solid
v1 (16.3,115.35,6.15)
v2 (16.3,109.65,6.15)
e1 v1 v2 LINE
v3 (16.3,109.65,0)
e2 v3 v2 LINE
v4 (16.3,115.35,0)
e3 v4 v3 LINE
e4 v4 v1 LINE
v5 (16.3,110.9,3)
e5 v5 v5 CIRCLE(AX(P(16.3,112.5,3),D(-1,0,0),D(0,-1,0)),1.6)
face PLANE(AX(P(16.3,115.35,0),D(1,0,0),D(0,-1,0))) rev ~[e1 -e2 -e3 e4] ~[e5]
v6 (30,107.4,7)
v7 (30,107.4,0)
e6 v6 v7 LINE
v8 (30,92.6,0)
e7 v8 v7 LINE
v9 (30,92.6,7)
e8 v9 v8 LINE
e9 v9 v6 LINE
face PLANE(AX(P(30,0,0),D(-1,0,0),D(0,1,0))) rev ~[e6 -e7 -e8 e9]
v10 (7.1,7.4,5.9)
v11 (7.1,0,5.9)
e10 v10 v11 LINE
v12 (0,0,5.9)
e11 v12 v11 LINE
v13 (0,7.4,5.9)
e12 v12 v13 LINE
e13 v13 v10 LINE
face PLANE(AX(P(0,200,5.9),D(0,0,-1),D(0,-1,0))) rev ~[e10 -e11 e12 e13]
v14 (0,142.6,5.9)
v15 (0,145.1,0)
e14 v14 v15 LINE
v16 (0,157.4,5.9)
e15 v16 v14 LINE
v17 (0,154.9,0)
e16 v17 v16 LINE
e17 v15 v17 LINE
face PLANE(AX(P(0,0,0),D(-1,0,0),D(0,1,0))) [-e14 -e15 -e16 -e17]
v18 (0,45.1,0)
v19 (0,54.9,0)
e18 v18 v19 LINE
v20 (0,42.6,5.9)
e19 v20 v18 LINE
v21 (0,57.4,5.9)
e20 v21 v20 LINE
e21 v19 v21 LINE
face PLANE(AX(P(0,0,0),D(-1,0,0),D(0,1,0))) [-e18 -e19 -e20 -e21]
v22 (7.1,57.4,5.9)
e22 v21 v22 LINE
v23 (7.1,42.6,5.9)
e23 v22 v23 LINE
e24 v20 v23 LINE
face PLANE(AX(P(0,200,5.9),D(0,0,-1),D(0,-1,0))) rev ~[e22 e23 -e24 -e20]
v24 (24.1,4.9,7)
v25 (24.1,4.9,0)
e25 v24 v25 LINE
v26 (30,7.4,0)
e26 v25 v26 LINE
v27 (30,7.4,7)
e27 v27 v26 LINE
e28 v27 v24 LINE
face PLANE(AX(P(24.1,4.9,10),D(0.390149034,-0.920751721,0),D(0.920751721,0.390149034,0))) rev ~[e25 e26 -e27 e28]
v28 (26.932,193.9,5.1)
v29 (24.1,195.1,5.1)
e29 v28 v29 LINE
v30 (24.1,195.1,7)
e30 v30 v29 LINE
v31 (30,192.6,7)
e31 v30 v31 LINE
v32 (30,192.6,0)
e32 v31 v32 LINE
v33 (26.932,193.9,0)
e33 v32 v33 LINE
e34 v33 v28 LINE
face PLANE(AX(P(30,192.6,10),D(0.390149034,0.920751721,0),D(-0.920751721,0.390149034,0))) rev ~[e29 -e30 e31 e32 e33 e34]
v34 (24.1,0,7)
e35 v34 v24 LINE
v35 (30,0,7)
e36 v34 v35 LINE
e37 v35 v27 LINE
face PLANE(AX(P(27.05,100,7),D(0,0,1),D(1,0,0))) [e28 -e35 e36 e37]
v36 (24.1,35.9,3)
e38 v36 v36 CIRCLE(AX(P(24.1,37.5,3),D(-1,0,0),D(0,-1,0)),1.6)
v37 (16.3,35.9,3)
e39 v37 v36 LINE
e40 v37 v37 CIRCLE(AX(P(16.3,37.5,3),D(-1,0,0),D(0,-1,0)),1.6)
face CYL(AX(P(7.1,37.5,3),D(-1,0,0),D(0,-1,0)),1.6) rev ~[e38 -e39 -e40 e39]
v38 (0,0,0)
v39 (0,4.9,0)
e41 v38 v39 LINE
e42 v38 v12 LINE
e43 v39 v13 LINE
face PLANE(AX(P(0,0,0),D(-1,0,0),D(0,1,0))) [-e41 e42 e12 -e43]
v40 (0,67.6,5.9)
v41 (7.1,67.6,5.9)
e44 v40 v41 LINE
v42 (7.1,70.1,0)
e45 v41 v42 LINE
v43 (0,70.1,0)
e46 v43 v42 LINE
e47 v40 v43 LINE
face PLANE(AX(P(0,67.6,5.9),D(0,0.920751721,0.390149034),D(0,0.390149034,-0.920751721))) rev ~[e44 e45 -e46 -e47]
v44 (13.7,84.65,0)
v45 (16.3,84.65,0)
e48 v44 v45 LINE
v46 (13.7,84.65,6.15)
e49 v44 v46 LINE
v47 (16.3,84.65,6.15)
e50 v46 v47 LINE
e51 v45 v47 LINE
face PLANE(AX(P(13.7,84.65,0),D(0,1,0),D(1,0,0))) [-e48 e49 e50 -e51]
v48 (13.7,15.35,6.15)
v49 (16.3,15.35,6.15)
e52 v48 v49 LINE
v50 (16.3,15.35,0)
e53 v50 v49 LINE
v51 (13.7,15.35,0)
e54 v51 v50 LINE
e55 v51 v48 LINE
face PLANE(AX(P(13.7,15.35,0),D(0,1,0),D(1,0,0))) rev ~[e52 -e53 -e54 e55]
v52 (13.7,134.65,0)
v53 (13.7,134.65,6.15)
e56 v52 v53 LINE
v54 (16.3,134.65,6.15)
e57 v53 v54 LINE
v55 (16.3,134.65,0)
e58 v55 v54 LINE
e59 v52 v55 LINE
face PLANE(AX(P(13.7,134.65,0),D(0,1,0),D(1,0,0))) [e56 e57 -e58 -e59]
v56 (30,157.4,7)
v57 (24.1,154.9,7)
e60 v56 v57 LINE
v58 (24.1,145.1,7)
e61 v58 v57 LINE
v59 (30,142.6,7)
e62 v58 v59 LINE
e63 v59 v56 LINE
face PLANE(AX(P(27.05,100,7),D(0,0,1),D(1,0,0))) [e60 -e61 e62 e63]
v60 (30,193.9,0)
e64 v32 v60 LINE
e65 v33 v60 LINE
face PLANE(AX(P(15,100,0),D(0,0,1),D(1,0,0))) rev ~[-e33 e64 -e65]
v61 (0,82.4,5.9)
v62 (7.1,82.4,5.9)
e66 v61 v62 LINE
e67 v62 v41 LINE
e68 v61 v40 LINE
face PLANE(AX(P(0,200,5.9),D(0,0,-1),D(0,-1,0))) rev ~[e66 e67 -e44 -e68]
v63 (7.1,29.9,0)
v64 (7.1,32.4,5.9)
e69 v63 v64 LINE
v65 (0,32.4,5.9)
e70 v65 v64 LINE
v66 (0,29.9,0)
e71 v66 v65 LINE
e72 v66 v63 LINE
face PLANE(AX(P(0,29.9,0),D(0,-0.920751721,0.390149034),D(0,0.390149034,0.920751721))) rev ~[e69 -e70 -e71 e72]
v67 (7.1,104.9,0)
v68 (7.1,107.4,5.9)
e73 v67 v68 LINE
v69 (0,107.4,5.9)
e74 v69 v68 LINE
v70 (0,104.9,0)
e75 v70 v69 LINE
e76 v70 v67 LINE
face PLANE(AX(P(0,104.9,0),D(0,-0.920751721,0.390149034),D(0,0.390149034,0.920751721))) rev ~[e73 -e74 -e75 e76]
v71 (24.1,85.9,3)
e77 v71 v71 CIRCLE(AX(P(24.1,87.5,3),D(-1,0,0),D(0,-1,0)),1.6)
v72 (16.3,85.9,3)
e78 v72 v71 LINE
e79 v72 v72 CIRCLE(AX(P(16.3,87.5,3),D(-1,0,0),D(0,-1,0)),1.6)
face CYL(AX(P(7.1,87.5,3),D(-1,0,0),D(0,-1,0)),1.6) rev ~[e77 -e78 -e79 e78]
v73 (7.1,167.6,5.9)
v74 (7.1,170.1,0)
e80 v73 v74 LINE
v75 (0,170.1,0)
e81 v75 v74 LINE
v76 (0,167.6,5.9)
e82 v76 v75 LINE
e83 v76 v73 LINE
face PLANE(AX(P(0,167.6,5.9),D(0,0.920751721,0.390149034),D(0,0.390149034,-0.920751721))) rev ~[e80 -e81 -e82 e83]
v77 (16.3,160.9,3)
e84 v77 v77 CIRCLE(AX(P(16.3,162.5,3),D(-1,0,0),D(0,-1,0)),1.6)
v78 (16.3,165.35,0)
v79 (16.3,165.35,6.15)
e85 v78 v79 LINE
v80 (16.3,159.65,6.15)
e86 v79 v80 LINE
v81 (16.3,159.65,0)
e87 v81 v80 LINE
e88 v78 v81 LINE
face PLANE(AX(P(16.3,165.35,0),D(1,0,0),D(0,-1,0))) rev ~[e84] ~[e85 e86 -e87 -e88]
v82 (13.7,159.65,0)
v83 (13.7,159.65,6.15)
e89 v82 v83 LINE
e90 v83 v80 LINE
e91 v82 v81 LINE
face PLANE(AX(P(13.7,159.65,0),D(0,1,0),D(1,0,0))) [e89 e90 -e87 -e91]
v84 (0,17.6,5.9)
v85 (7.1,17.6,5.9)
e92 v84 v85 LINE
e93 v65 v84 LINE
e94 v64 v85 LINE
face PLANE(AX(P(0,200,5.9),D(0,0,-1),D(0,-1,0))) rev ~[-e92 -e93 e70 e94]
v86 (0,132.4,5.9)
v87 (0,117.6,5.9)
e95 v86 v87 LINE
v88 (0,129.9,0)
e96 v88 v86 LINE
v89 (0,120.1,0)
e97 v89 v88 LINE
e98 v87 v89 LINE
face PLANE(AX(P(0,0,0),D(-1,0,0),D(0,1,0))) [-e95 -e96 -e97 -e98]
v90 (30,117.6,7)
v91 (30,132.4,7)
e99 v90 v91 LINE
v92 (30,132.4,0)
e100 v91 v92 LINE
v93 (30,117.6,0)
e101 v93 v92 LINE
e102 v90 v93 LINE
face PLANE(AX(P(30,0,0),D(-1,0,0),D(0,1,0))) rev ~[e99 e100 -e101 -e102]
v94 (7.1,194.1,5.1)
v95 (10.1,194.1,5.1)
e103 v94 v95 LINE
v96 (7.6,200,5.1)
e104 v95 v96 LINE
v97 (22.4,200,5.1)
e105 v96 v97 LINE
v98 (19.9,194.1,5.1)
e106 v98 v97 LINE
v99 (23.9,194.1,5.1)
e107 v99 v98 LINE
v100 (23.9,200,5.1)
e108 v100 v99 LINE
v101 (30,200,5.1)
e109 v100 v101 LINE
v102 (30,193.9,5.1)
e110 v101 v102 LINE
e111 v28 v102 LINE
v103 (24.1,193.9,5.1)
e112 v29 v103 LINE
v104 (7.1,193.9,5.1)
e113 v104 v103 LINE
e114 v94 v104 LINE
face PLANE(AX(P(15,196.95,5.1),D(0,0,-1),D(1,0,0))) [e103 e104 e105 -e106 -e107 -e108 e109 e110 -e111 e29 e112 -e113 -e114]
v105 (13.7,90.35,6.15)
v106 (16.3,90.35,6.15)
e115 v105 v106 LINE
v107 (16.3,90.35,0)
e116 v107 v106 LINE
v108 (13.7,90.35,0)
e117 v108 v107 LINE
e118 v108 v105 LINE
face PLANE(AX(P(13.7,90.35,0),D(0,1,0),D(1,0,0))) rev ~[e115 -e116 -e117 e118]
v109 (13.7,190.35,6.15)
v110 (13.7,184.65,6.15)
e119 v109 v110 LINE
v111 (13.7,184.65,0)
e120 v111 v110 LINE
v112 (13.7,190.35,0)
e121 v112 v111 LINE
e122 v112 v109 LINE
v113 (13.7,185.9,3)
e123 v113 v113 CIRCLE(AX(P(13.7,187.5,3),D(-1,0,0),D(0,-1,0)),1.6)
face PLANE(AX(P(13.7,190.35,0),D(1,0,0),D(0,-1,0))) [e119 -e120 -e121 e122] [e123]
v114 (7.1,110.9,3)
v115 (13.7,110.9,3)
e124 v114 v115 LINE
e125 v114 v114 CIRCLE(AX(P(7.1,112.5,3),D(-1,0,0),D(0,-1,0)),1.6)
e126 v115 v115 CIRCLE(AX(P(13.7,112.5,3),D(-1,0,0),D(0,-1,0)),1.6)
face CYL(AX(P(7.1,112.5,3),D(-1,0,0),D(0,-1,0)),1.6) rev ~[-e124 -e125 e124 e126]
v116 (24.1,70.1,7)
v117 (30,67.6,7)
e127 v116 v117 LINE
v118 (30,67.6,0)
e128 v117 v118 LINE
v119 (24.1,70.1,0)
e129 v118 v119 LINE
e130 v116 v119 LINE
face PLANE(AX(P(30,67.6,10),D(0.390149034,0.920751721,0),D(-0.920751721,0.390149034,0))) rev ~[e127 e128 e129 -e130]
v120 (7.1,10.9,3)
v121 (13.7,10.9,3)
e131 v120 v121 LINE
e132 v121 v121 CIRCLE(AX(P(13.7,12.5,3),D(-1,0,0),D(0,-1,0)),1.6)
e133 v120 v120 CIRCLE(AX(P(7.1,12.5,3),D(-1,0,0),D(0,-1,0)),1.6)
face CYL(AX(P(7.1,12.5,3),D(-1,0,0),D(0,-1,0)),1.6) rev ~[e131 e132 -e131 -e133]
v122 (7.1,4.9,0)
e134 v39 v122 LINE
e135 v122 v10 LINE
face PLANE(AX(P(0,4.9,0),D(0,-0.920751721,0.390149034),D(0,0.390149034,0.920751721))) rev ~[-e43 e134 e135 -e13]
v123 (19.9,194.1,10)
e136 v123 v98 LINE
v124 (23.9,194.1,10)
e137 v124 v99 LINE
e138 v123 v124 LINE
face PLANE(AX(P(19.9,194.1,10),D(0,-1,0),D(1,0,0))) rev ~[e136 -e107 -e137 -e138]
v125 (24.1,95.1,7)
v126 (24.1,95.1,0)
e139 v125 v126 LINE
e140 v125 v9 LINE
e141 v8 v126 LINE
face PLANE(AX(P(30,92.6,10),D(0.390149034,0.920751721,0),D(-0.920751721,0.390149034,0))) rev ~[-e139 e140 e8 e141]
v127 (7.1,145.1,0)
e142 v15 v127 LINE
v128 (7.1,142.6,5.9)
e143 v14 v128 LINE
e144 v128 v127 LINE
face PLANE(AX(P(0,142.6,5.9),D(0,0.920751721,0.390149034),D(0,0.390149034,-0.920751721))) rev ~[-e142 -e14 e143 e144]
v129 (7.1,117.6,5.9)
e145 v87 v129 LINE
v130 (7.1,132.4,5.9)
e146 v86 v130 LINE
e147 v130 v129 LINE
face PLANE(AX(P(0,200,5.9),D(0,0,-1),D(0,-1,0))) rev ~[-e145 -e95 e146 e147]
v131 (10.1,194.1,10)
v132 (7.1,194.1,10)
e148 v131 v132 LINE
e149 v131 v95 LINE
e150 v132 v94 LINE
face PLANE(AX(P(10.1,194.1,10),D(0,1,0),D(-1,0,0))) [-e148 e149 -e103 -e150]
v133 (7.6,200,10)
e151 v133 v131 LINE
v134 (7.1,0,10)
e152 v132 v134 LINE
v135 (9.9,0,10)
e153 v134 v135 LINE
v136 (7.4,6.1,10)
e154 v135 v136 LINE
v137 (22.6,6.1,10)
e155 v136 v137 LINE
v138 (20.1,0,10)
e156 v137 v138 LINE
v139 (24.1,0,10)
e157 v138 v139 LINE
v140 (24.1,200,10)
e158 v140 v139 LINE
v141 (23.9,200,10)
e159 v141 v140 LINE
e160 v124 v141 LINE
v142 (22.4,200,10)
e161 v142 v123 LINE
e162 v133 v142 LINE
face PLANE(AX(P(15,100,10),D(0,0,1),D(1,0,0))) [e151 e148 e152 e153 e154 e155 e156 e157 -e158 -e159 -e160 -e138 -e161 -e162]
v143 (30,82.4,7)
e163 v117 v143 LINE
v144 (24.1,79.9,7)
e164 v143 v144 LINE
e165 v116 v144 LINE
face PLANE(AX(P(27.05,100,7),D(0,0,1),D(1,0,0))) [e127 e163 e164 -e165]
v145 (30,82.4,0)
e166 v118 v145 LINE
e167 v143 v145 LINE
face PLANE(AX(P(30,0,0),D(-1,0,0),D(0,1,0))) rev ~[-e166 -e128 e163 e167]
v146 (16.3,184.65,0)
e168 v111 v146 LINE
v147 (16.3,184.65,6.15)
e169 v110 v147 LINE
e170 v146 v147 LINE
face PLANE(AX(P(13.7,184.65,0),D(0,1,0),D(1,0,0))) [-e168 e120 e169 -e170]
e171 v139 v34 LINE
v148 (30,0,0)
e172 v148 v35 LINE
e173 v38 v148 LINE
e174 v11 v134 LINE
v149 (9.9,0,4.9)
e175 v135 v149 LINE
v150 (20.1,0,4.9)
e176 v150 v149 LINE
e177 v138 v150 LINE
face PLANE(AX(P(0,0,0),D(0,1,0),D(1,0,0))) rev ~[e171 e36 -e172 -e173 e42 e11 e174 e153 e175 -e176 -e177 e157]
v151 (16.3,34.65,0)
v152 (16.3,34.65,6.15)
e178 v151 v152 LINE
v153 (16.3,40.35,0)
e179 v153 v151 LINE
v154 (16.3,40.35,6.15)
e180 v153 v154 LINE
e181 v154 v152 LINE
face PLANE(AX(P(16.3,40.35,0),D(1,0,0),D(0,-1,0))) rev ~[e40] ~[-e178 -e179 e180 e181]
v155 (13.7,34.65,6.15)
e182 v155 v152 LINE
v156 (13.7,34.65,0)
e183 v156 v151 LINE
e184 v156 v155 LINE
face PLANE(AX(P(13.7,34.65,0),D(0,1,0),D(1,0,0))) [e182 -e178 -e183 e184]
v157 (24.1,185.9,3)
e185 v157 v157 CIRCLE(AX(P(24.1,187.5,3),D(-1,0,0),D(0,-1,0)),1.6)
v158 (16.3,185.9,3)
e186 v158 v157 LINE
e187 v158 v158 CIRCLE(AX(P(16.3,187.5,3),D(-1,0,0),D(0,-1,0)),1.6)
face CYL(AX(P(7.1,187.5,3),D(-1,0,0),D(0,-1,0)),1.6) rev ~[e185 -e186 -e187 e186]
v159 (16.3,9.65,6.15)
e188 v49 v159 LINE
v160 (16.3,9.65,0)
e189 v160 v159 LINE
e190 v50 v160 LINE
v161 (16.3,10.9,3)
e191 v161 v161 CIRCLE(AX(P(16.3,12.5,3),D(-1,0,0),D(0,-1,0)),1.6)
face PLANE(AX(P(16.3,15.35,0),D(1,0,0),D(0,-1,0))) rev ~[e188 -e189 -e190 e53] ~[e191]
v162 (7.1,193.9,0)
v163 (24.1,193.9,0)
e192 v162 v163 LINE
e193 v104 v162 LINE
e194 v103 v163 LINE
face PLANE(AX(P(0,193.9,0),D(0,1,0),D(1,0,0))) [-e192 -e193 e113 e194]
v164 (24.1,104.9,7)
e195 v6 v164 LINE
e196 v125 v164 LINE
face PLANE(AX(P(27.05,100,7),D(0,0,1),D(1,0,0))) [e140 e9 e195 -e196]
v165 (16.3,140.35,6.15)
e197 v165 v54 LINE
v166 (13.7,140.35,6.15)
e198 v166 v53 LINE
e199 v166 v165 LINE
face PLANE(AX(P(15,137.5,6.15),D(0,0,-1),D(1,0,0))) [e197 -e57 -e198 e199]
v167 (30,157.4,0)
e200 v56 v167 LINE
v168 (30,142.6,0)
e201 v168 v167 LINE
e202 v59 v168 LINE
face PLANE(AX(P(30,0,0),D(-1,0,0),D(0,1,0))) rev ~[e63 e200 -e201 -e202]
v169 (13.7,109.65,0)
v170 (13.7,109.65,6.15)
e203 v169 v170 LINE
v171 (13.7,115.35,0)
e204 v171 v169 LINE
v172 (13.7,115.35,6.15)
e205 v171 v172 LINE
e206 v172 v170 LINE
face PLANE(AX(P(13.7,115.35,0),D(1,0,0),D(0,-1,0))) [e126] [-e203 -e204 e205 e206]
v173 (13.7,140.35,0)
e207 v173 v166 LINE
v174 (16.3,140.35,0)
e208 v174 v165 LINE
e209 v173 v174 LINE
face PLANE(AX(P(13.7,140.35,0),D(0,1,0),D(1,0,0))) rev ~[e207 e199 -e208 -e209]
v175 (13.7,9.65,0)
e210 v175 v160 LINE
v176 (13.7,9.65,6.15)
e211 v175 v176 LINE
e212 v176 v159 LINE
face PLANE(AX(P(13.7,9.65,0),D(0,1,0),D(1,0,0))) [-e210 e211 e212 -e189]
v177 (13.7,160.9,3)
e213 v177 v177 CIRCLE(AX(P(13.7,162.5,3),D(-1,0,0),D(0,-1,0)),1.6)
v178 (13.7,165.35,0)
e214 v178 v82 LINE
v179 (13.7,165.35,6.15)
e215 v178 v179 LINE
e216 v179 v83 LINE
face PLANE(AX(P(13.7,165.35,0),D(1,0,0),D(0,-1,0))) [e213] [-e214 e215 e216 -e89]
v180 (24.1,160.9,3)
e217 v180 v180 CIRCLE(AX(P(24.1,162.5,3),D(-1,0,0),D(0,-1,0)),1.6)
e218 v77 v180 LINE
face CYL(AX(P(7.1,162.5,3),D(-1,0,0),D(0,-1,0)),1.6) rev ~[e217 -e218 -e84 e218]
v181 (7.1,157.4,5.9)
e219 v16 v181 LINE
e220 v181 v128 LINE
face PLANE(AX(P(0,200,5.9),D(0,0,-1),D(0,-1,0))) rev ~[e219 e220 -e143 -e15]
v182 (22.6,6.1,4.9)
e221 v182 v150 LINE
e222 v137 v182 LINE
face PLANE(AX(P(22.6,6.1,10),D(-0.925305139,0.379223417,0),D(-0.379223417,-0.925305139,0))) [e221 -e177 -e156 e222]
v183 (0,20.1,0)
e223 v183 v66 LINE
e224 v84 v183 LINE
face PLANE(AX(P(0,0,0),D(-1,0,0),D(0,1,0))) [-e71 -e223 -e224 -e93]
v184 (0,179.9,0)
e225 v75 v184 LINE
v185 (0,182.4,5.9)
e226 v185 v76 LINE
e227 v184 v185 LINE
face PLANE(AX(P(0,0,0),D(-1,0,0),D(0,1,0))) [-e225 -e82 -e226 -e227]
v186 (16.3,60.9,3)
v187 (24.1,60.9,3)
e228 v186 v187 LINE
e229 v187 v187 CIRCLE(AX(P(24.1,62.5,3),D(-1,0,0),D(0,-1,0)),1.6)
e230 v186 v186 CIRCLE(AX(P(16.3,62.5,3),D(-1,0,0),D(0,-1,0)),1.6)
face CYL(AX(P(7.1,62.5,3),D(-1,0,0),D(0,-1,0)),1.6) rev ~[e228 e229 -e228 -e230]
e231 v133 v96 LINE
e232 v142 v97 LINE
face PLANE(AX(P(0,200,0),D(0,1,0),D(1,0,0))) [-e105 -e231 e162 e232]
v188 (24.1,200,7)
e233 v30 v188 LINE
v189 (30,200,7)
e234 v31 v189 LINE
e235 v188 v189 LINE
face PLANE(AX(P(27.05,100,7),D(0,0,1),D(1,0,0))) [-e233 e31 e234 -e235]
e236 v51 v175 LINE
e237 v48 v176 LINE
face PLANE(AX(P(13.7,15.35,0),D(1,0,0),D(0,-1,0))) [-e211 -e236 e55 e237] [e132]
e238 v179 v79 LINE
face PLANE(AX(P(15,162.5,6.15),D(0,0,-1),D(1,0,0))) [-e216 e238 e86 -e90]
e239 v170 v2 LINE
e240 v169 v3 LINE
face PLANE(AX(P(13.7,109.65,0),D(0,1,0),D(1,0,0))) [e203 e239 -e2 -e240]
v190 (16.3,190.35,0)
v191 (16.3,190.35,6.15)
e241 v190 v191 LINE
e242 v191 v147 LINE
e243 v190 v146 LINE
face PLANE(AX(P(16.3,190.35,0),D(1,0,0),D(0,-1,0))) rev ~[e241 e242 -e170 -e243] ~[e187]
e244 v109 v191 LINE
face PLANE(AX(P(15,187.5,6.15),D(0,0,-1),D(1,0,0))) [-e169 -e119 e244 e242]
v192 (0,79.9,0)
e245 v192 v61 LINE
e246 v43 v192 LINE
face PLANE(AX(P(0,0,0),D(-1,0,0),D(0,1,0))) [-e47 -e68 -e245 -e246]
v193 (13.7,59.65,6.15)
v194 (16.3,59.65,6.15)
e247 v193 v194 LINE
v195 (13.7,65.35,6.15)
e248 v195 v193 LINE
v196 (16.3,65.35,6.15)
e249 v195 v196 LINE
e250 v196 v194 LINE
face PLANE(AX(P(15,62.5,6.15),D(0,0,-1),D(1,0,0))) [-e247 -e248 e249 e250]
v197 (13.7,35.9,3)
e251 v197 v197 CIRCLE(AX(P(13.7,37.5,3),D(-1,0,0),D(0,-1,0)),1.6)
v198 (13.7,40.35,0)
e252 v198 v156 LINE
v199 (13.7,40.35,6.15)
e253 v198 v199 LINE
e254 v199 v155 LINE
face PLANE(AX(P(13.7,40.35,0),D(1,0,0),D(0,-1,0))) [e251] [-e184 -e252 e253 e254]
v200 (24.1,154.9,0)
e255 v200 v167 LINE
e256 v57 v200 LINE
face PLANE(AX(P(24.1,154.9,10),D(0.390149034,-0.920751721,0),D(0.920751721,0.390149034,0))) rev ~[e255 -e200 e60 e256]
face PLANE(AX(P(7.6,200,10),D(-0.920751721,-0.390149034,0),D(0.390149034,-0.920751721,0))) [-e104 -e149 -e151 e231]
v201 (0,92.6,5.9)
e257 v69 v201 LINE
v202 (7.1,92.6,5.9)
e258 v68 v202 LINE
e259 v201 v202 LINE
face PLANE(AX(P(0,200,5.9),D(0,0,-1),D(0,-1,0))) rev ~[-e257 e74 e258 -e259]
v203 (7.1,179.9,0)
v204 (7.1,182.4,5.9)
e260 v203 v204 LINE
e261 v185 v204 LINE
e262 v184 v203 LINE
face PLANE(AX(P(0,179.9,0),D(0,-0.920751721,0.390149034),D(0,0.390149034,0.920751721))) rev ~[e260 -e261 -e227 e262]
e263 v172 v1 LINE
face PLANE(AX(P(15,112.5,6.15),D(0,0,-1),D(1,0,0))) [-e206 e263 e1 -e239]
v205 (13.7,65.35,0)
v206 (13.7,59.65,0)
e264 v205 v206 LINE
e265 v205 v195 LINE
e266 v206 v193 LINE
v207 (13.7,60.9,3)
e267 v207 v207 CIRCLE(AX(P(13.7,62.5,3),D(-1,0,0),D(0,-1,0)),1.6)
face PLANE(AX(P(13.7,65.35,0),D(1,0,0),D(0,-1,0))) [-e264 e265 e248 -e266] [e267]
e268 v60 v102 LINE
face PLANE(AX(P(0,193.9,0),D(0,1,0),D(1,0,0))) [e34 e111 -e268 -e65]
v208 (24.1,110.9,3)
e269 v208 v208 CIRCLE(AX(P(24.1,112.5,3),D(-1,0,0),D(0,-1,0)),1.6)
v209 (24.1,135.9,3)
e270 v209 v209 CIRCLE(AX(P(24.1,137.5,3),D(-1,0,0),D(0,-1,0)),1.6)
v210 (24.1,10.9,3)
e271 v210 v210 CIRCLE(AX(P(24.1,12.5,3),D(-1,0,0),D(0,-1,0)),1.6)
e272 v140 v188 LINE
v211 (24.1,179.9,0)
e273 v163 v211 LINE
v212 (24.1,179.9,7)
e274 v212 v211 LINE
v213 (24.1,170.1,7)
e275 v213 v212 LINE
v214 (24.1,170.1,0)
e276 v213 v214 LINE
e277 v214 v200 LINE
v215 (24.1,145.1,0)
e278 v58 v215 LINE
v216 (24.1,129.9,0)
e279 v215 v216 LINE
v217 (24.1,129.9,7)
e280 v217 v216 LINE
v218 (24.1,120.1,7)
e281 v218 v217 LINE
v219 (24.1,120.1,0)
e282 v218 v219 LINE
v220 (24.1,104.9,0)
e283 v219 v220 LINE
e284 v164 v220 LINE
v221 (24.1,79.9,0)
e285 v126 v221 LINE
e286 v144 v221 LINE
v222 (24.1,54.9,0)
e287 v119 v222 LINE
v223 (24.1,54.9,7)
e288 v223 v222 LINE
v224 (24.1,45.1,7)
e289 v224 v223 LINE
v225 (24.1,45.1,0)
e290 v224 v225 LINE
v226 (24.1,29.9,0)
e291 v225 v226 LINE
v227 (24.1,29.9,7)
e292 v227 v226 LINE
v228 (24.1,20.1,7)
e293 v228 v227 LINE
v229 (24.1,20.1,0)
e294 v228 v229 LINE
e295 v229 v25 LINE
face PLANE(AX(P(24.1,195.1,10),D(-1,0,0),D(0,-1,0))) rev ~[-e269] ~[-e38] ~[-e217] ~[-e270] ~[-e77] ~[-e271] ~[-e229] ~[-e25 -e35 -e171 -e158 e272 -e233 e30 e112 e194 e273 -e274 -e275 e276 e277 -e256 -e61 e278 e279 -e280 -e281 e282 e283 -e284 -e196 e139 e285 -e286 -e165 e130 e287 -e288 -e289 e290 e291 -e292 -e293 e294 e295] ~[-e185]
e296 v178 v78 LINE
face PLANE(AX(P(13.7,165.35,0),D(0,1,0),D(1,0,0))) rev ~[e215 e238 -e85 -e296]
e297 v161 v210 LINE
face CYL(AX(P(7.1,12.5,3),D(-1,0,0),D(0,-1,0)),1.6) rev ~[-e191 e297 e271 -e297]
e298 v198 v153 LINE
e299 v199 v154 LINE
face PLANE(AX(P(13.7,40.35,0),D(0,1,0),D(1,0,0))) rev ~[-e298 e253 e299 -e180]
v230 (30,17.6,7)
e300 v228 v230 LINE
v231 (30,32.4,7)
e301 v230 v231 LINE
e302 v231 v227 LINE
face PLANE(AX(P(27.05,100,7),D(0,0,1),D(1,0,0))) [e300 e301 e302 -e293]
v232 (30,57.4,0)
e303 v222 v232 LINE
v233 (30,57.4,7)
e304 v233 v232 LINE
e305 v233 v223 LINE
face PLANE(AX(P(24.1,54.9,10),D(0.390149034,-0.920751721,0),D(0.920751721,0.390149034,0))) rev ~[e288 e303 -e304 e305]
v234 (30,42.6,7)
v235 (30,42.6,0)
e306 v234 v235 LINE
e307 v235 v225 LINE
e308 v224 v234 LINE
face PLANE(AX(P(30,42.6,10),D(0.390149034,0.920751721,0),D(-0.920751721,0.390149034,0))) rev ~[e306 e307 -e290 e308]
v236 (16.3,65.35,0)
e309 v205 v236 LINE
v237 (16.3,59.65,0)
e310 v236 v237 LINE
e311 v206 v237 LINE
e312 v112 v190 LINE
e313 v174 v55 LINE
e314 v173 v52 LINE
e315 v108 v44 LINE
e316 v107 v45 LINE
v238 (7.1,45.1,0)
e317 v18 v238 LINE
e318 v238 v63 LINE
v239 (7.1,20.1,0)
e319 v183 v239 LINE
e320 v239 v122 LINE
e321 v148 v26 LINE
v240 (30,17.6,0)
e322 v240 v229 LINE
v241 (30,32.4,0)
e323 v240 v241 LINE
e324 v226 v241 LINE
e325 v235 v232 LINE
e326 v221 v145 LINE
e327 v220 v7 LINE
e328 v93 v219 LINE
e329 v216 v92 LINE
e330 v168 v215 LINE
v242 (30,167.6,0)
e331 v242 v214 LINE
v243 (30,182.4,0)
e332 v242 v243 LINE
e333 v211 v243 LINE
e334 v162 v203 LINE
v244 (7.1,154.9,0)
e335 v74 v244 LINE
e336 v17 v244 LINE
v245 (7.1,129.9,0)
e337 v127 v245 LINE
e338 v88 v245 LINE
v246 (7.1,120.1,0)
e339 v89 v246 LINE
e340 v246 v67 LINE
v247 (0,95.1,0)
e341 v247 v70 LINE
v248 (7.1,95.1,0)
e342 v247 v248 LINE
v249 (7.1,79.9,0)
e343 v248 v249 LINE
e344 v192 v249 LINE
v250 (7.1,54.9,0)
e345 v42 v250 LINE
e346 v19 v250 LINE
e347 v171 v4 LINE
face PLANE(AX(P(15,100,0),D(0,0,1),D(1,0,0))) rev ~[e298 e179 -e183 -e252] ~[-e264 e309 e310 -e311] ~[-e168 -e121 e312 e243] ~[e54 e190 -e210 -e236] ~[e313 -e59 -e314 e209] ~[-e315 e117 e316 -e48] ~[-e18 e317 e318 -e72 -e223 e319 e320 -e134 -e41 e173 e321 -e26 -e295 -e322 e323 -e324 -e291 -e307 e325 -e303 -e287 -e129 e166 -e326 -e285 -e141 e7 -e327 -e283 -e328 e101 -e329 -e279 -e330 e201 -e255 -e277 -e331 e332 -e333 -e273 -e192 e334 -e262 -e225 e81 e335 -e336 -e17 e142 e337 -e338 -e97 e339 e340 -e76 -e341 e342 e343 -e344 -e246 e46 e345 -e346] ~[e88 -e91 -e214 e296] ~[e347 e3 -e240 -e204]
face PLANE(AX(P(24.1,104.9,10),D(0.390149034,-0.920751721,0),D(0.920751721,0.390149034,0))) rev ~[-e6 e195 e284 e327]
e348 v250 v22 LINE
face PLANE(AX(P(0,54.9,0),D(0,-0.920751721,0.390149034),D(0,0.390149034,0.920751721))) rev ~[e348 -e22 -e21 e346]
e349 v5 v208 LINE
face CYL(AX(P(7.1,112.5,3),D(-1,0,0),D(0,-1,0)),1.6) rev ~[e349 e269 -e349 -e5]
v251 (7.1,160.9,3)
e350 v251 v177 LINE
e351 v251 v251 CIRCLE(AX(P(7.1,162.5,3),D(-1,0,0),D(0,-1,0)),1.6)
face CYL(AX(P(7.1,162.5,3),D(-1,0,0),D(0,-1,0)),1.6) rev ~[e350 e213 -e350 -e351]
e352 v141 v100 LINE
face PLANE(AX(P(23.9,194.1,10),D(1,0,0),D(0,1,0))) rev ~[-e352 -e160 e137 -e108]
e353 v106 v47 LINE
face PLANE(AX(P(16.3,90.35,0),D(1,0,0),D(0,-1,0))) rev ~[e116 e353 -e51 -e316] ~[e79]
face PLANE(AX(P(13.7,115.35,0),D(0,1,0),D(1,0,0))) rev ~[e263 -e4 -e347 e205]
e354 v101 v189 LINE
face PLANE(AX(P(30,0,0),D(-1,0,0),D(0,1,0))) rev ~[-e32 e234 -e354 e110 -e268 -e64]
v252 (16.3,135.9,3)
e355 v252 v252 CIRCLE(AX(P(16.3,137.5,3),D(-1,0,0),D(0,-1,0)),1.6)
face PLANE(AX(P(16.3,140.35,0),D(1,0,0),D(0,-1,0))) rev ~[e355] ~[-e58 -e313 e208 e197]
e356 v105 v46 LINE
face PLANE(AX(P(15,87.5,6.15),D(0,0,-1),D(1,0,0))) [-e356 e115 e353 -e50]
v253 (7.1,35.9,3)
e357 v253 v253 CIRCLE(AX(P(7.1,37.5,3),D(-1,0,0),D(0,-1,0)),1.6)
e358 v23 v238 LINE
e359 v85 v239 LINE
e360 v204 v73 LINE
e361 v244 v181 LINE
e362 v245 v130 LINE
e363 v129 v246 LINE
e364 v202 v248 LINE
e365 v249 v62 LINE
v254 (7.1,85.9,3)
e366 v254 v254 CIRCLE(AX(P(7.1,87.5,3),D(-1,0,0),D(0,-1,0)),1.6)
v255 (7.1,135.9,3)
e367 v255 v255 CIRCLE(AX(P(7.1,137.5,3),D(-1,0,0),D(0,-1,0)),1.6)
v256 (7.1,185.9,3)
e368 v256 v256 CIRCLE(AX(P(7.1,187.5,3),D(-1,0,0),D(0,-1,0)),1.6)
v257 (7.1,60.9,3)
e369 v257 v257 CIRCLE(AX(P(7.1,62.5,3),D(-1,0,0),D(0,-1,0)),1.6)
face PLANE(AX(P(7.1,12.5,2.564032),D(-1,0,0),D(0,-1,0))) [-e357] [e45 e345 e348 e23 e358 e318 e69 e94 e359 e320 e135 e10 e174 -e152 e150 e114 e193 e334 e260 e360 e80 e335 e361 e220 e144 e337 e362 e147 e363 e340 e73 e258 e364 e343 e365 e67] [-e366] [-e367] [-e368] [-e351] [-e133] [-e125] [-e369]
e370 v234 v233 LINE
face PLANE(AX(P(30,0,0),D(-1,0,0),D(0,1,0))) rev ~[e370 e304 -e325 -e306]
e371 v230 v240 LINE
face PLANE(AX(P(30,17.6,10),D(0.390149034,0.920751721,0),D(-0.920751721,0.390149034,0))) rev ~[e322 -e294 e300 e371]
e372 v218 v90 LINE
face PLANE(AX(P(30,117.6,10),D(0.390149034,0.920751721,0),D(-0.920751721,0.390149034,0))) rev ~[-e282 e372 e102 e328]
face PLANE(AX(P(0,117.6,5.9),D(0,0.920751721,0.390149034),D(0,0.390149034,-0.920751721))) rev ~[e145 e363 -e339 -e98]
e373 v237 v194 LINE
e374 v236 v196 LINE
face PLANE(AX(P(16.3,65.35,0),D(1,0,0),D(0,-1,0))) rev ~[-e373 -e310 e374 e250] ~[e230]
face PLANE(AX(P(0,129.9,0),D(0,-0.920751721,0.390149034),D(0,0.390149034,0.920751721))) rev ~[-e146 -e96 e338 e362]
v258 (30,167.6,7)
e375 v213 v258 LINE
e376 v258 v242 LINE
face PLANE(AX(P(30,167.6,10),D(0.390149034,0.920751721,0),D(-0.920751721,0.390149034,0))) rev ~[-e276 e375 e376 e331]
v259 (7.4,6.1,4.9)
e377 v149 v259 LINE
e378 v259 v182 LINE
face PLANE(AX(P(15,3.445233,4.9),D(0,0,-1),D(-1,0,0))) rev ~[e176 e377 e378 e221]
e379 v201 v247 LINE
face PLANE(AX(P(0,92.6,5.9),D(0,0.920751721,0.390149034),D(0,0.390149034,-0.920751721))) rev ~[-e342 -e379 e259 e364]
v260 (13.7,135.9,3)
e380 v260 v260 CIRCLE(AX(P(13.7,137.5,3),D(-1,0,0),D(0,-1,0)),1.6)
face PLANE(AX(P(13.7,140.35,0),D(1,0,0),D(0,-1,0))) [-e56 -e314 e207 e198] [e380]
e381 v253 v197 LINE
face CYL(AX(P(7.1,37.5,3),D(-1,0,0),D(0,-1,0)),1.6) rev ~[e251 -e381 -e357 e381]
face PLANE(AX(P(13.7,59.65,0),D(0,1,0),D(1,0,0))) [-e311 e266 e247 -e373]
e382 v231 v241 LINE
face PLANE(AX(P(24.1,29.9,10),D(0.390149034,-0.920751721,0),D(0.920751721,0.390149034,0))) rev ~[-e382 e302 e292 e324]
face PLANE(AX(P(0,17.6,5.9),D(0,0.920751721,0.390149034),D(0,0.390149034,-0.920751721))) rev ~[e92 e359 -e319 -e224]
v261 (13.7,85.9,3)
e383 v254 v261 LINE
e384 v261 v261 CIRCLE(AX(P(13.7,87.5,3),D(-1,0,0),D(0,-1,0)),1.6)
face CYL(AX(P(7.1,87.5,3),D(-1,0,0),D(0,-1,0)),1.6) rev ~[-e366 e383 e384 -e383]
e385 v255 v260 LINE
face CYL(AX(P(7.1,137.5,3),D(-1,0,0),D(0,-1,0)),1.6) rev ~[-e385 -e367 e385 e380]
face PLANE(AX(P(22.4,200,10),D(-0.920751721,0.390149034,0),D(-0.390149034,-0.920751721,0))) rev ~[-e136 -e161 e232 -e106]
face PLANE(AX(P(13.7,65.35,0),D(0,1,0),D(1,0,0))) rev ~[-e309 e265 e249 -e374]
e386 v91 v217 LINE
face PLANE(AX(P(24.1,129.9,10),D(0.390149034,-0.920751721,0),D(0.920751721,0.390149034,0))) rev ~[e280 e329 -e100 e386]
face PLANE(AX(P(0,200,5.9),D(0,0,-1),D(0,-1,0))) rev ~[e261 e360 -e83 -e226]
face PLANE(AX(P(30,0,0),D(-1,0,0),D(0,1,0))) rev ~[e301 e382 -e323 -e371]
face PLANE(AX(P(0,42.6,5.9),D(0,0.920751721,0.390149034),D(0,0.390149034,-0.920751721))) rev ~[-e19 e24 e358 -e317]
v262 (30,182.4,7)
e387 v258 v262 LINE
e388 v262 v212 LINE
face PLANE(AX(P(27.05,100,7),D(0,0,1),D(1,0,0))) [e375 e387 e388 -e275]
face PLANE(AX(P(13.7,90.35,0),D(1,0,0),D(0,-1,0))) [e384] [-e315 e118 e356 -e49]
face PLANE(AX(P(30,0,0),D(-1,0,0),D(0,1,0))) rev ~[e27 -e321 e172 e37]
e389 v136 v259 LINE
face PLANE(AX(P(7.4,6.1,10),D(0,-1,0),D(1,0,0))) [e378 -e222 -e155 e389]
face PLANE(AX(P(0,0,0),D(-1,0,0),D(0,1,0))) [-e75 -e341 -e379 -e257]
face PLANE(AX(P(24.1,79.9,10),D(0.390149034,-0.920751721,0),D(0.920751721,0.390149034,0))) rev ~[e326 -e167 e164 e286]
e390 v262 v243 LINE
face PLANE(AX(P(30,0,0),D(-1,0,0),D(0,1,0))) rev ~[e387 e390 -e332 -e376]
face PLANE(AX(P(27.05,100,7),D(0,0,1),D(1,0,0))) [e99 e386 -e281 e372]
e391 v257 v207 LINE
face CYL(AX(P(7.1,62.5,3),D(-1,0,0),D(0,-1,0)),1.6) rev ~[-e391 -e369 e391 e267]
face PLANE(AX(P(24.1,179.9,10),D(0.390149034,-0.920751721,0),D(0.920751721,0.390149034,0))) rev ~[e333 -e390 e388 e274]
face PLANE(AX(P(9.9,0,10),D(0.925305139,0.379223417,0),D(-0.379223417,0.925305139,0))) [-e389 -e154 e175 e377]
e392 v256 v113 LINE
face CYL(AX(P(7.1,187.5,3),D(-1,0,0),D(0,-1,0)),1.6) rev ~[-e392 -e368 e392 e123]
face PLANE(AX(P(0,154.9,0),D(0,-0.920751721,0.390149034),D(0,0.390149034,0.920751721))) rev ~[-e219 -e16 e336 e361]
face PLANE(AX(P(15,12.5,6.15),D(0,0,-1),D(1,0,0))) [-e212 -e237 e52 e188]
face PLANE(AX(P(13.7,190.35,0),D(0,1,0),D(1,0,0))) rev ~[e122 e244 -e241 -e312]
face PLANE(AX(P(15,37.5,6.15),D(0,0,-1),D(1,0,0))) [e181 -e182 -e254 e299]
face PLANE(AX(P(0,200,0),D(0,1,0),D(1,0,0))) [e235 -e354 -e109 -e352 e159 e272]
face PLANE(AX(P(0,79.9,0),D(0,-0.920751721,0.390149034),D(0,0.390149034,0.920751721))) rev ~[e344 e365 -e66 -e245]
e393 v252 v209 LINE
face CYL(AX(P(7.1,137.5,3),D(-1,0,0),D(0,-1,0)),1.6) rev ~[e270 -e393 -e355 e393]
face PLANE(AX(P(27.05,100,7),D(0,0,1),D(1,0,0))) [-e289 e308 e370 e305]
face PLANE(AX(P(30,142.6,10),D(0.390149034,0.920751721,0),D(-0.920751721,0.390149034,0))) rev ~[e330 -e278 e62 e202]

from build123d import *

# Parameters (mm, degrees)
SKETCH_W        = 30
SKETCH_H        = 200
PAD_DEPTH       = 10
POCKET_DEPTH    = 7.1
SKETCH002_W     = 200
SKETCH002_H     = 4.1
POCKET001_DEPTH = 7.1
SKETCH003_R     = 1.6
POCKET002_DEPTH = 25
SKETCH004_W     = 2.6
SKETCH004_H     = 5.7
POCKET003_DEPTH = 6.15
SKETCH006_W     = 200
SKETCH006_H     = 3
POCKET005_DEPTH = 5.9
POCKET006_DEPTH = 10
SKETCH008_W     = 5.9
SKETCH008_H     = 200
POCKET007_DEPTH = 3
POCKET008_DEPTH = 5.1
SKETCH010_W     = 30
SKETCH010_H     = 6.1
POCKET009_DEPTH = 5.1
POCKET010_DEPTH = 5


with BuildPart() as part:
    # Sketch → Pad (new body)
    with BuildSketch(Plane.XY):
        with Locations((15, 100)):
            Rectangle(SKETCH_W, SKETCH_H)
    extrude(amount=PAD_DEPTH)

    # Sketch001 (on Face4 of Pad) → Pocket (cut)
    with BuildSketch(Plane(origin=(0, 0, 0), x_dir=(0, -1, 0), z_dir=(-1, 0, 0))):
        Polygon((-199.7, 5.9), (-199.9, 0), (-179.9, 0), (-182.4, 5.9), align=None)
        Polygon((-167.6, 5.9), (-170.1, 0), (-154.9, 0), (-157.4, 5.9), align=None)
        Polygon((-142.6, 5.9), (-145.1, 0), (-129.9, 0), (-132.4, 5.9), align=None)
        Polygon((-117.6, 5.9), (-120.1, 0), (-104.9, 0), (-107.4, 5.9), align=None)
        Polygon((-92.6, 5.9), (-95.1, 0), (-79.9, 0), (-82.4, 5.9), align=None)
        Polygon((-67.6, 5.9), (-70.1, 0), (-54.9, 0), (-57.4, 5.9), align=None)
        Polygon((-42.6, 5.9), (-45.1, 0), (-29.9, 0), (-32.4, 5.9), align=None)
        Polygon((-17.6, 5.9), (-20.1, 0), (-4.9, 0), (-7.4, 5.9), align=None)
    extrude(amount=-POCKET_DEPTH, mode=Mode.SUBTRACT)

    # Sketch002 (on Face2 of Pocket) → Pocket001 (cut)
    with BuildSketch(Plane(origin=(0, 0, 0), x_dir=(0, -1, 0), z_dir=(-1, 0, 0))):
        with Locations((-100, 7.95)):
            Rectangle(SKETCH002_W, SKETCH002_H)
    extrude(amount=-POCKET001_DEPTH, mode=Mode.SUBTRACT)

    # Sketch003 (on Face9 of Pocket001) → Pocket002 (cut)
    with BuildSketch(Plane(origin=(7.1, 0, 0), x_dir=(0, -1, 0), z_dir=(-1, 0, 0))):
        with Locations((-37.5, 3)):
            Circle(SKETCH003_R)
        with Locations((-12.5, 3)):
            Circle(SKETCH003_R)
        with Locations((-62.5, 3)):
            Circle(SKETCH003_R)
        with Locations((-87.5, 3)):
            Circle(SKETCH003_R)
        with Locations((-112.5, 3)):
            Circle(SKETCH003_R)
        with Locations((-137.5, 3)):
            Circle(SKETCH003_R)
        with Locations((-162.5, 3)):
            Circle(SKETCH003_R)
        with Locations((-187.5, 3)):
            Circle(SKETCH003_R)
    extrude(amount=-POCKET002_DEPTH, mode=Mode.SUBTRACT)

    # Sketch004 (on Face2 of Pocket002) → Pocket003 (cut)
    with BuildSketch(Plane(origin=(0, 0, 0), x_dir=(1, 0, 0), z_dir=(0, 0, -1))):
        with Locations((15, -12.5)):
            Rectangle(SKETCH004_W, SKETCH004_H)
        with Locations((15, -37.5)):
            Rectangle(SKETCH004_W, SKETCH004_H)
        with Locations((15, -62.5)):
            Rectangle(SKETCH004_W, SKETCH004_H)
        with Locations((15, -87.5)):
            Rectangle(SKETCH004_W, SKETCH004_H)
        with Locations((15, -112.5)):
            Rectangle(SKETCH004_W, SKETCH004_H)
        with Locations((15, -137.5)):
            Rectangle(SKETCH004_W, SKETCH004_H)
        with Locations((15, -162.5)):
            Rectangle(SKETCH004_W, SKETCH004_H)
        with Locations((15, -187.5)):
            Rectangle(SKETCH004_W, SKETCH004_H)
    extrude(amount=-POCKET003_DEPTH, mode=Mode.SUBTRACT)

    # Sketch006 → Pocket005 (cut)
    with BuildSketch(Plane(origin=(0, 4.15414, -1.760229), x_dir=(-1, 0, 0), z_dir=(0, 0.920752, -0.390149))):
        with Locations((100, 8.5)):
            Rectangle(SKETCH006_W, SKETCH006_H)
    extrude(amount=-POCKET005_DEPTH, mode=Mode.SUBTRACT)

    # Sketch007 (on Face4 of Pocket005) → Pocket006 (cut)
    with BuildSketch(Plane.XY.offset(10)):
        Polygon((24.1, 20.1), (24.1, 4.9), (30, 7.4), (30, 17.6), align=None)
        Polygon((24.1, 45.1), (24.1, 29.9), (30, 32.4), (30, 42.6), align=None)
        Polygon((24.1, 70.1), (24.1, 54.9), (30, 57.4), (30, 67.6), align=None)
        Polygon((24.1, 95.1), (24.1, 79.9), (30, 82.4), (30, 92.6), align=None)
        Polygon((24.1, 120.1), (24.1, 104.9), (30, 107.4), (30, 117.6), align=None)
        Polygon((24.1, 145.1), (24.1, 129.9), (30, 132.4), (30, 142.6), align=None)
        Polygon((24.1, 170.1), (24.1, 154.9), (30, 157.4), (30, 167.6), align=None)
        Polygon((24.1, 195.1), (24.1, 179.9), (30, 182.4), (30, 192.6), align=None)
    extrude(amount=-POCKET006_DEPTH, mode=Mode.SUBTRACT)

    # Sketch008 (on Face4 of Pocket006) → Pocket007 (cut)
    with BuildSketch(Plane.XY.offset(10)):
        with Locations((27.05, 100)):
            Rectangle(SKETCH008_W, SKETCH008_H)
    extrude(amount=-POCKET007_DEPTH, mode=Mode.SUBTRACT)

    # Sketch009 (on Face6 of Pocket007) → Pocket008 (cut)
    with BuildSketch(Plane.XY.offset(10)):
        Polygon((7.4, 6.1), (22.6, 6.1), (20.1, 0), (9.9, 0), align=None)
    extrude(amount=-POCKET008_DEPTH, mode=Mode.SUBTRACT)

    # Sketch010 (on Face2 of Pocket008) → Pocket009 (cut)
    with BuildSketch(Plane(origin=(0, 0, 0), x_dir=(1, 0, 0), z_dir=(0, 0, -1))):
        with Locations((15, -196.95)):
            Rectangle(SKETCH010_W, SKETCH010_H)
    extrude(amount=-POCKET009_DEPTH, mode=Mode.SUBTRACT)

    # Sketch011 (on Face6 of Pocket009) → Pocket010 (cut)
    with BuildSketch(Plane.XY.offset(10)):
        Polygon((7.6, 200), (10.1, 194.1), (0, 194.1), (0, 200), align=None)
        Polygon((22.4, 200), (19.9, 194.1), (23.9, 194.1), (23.9, 200), align=None)
    extrude(amount=-POCKET010_DEPTH, mode=Mode.SUBTRACT)


solid = part.part
